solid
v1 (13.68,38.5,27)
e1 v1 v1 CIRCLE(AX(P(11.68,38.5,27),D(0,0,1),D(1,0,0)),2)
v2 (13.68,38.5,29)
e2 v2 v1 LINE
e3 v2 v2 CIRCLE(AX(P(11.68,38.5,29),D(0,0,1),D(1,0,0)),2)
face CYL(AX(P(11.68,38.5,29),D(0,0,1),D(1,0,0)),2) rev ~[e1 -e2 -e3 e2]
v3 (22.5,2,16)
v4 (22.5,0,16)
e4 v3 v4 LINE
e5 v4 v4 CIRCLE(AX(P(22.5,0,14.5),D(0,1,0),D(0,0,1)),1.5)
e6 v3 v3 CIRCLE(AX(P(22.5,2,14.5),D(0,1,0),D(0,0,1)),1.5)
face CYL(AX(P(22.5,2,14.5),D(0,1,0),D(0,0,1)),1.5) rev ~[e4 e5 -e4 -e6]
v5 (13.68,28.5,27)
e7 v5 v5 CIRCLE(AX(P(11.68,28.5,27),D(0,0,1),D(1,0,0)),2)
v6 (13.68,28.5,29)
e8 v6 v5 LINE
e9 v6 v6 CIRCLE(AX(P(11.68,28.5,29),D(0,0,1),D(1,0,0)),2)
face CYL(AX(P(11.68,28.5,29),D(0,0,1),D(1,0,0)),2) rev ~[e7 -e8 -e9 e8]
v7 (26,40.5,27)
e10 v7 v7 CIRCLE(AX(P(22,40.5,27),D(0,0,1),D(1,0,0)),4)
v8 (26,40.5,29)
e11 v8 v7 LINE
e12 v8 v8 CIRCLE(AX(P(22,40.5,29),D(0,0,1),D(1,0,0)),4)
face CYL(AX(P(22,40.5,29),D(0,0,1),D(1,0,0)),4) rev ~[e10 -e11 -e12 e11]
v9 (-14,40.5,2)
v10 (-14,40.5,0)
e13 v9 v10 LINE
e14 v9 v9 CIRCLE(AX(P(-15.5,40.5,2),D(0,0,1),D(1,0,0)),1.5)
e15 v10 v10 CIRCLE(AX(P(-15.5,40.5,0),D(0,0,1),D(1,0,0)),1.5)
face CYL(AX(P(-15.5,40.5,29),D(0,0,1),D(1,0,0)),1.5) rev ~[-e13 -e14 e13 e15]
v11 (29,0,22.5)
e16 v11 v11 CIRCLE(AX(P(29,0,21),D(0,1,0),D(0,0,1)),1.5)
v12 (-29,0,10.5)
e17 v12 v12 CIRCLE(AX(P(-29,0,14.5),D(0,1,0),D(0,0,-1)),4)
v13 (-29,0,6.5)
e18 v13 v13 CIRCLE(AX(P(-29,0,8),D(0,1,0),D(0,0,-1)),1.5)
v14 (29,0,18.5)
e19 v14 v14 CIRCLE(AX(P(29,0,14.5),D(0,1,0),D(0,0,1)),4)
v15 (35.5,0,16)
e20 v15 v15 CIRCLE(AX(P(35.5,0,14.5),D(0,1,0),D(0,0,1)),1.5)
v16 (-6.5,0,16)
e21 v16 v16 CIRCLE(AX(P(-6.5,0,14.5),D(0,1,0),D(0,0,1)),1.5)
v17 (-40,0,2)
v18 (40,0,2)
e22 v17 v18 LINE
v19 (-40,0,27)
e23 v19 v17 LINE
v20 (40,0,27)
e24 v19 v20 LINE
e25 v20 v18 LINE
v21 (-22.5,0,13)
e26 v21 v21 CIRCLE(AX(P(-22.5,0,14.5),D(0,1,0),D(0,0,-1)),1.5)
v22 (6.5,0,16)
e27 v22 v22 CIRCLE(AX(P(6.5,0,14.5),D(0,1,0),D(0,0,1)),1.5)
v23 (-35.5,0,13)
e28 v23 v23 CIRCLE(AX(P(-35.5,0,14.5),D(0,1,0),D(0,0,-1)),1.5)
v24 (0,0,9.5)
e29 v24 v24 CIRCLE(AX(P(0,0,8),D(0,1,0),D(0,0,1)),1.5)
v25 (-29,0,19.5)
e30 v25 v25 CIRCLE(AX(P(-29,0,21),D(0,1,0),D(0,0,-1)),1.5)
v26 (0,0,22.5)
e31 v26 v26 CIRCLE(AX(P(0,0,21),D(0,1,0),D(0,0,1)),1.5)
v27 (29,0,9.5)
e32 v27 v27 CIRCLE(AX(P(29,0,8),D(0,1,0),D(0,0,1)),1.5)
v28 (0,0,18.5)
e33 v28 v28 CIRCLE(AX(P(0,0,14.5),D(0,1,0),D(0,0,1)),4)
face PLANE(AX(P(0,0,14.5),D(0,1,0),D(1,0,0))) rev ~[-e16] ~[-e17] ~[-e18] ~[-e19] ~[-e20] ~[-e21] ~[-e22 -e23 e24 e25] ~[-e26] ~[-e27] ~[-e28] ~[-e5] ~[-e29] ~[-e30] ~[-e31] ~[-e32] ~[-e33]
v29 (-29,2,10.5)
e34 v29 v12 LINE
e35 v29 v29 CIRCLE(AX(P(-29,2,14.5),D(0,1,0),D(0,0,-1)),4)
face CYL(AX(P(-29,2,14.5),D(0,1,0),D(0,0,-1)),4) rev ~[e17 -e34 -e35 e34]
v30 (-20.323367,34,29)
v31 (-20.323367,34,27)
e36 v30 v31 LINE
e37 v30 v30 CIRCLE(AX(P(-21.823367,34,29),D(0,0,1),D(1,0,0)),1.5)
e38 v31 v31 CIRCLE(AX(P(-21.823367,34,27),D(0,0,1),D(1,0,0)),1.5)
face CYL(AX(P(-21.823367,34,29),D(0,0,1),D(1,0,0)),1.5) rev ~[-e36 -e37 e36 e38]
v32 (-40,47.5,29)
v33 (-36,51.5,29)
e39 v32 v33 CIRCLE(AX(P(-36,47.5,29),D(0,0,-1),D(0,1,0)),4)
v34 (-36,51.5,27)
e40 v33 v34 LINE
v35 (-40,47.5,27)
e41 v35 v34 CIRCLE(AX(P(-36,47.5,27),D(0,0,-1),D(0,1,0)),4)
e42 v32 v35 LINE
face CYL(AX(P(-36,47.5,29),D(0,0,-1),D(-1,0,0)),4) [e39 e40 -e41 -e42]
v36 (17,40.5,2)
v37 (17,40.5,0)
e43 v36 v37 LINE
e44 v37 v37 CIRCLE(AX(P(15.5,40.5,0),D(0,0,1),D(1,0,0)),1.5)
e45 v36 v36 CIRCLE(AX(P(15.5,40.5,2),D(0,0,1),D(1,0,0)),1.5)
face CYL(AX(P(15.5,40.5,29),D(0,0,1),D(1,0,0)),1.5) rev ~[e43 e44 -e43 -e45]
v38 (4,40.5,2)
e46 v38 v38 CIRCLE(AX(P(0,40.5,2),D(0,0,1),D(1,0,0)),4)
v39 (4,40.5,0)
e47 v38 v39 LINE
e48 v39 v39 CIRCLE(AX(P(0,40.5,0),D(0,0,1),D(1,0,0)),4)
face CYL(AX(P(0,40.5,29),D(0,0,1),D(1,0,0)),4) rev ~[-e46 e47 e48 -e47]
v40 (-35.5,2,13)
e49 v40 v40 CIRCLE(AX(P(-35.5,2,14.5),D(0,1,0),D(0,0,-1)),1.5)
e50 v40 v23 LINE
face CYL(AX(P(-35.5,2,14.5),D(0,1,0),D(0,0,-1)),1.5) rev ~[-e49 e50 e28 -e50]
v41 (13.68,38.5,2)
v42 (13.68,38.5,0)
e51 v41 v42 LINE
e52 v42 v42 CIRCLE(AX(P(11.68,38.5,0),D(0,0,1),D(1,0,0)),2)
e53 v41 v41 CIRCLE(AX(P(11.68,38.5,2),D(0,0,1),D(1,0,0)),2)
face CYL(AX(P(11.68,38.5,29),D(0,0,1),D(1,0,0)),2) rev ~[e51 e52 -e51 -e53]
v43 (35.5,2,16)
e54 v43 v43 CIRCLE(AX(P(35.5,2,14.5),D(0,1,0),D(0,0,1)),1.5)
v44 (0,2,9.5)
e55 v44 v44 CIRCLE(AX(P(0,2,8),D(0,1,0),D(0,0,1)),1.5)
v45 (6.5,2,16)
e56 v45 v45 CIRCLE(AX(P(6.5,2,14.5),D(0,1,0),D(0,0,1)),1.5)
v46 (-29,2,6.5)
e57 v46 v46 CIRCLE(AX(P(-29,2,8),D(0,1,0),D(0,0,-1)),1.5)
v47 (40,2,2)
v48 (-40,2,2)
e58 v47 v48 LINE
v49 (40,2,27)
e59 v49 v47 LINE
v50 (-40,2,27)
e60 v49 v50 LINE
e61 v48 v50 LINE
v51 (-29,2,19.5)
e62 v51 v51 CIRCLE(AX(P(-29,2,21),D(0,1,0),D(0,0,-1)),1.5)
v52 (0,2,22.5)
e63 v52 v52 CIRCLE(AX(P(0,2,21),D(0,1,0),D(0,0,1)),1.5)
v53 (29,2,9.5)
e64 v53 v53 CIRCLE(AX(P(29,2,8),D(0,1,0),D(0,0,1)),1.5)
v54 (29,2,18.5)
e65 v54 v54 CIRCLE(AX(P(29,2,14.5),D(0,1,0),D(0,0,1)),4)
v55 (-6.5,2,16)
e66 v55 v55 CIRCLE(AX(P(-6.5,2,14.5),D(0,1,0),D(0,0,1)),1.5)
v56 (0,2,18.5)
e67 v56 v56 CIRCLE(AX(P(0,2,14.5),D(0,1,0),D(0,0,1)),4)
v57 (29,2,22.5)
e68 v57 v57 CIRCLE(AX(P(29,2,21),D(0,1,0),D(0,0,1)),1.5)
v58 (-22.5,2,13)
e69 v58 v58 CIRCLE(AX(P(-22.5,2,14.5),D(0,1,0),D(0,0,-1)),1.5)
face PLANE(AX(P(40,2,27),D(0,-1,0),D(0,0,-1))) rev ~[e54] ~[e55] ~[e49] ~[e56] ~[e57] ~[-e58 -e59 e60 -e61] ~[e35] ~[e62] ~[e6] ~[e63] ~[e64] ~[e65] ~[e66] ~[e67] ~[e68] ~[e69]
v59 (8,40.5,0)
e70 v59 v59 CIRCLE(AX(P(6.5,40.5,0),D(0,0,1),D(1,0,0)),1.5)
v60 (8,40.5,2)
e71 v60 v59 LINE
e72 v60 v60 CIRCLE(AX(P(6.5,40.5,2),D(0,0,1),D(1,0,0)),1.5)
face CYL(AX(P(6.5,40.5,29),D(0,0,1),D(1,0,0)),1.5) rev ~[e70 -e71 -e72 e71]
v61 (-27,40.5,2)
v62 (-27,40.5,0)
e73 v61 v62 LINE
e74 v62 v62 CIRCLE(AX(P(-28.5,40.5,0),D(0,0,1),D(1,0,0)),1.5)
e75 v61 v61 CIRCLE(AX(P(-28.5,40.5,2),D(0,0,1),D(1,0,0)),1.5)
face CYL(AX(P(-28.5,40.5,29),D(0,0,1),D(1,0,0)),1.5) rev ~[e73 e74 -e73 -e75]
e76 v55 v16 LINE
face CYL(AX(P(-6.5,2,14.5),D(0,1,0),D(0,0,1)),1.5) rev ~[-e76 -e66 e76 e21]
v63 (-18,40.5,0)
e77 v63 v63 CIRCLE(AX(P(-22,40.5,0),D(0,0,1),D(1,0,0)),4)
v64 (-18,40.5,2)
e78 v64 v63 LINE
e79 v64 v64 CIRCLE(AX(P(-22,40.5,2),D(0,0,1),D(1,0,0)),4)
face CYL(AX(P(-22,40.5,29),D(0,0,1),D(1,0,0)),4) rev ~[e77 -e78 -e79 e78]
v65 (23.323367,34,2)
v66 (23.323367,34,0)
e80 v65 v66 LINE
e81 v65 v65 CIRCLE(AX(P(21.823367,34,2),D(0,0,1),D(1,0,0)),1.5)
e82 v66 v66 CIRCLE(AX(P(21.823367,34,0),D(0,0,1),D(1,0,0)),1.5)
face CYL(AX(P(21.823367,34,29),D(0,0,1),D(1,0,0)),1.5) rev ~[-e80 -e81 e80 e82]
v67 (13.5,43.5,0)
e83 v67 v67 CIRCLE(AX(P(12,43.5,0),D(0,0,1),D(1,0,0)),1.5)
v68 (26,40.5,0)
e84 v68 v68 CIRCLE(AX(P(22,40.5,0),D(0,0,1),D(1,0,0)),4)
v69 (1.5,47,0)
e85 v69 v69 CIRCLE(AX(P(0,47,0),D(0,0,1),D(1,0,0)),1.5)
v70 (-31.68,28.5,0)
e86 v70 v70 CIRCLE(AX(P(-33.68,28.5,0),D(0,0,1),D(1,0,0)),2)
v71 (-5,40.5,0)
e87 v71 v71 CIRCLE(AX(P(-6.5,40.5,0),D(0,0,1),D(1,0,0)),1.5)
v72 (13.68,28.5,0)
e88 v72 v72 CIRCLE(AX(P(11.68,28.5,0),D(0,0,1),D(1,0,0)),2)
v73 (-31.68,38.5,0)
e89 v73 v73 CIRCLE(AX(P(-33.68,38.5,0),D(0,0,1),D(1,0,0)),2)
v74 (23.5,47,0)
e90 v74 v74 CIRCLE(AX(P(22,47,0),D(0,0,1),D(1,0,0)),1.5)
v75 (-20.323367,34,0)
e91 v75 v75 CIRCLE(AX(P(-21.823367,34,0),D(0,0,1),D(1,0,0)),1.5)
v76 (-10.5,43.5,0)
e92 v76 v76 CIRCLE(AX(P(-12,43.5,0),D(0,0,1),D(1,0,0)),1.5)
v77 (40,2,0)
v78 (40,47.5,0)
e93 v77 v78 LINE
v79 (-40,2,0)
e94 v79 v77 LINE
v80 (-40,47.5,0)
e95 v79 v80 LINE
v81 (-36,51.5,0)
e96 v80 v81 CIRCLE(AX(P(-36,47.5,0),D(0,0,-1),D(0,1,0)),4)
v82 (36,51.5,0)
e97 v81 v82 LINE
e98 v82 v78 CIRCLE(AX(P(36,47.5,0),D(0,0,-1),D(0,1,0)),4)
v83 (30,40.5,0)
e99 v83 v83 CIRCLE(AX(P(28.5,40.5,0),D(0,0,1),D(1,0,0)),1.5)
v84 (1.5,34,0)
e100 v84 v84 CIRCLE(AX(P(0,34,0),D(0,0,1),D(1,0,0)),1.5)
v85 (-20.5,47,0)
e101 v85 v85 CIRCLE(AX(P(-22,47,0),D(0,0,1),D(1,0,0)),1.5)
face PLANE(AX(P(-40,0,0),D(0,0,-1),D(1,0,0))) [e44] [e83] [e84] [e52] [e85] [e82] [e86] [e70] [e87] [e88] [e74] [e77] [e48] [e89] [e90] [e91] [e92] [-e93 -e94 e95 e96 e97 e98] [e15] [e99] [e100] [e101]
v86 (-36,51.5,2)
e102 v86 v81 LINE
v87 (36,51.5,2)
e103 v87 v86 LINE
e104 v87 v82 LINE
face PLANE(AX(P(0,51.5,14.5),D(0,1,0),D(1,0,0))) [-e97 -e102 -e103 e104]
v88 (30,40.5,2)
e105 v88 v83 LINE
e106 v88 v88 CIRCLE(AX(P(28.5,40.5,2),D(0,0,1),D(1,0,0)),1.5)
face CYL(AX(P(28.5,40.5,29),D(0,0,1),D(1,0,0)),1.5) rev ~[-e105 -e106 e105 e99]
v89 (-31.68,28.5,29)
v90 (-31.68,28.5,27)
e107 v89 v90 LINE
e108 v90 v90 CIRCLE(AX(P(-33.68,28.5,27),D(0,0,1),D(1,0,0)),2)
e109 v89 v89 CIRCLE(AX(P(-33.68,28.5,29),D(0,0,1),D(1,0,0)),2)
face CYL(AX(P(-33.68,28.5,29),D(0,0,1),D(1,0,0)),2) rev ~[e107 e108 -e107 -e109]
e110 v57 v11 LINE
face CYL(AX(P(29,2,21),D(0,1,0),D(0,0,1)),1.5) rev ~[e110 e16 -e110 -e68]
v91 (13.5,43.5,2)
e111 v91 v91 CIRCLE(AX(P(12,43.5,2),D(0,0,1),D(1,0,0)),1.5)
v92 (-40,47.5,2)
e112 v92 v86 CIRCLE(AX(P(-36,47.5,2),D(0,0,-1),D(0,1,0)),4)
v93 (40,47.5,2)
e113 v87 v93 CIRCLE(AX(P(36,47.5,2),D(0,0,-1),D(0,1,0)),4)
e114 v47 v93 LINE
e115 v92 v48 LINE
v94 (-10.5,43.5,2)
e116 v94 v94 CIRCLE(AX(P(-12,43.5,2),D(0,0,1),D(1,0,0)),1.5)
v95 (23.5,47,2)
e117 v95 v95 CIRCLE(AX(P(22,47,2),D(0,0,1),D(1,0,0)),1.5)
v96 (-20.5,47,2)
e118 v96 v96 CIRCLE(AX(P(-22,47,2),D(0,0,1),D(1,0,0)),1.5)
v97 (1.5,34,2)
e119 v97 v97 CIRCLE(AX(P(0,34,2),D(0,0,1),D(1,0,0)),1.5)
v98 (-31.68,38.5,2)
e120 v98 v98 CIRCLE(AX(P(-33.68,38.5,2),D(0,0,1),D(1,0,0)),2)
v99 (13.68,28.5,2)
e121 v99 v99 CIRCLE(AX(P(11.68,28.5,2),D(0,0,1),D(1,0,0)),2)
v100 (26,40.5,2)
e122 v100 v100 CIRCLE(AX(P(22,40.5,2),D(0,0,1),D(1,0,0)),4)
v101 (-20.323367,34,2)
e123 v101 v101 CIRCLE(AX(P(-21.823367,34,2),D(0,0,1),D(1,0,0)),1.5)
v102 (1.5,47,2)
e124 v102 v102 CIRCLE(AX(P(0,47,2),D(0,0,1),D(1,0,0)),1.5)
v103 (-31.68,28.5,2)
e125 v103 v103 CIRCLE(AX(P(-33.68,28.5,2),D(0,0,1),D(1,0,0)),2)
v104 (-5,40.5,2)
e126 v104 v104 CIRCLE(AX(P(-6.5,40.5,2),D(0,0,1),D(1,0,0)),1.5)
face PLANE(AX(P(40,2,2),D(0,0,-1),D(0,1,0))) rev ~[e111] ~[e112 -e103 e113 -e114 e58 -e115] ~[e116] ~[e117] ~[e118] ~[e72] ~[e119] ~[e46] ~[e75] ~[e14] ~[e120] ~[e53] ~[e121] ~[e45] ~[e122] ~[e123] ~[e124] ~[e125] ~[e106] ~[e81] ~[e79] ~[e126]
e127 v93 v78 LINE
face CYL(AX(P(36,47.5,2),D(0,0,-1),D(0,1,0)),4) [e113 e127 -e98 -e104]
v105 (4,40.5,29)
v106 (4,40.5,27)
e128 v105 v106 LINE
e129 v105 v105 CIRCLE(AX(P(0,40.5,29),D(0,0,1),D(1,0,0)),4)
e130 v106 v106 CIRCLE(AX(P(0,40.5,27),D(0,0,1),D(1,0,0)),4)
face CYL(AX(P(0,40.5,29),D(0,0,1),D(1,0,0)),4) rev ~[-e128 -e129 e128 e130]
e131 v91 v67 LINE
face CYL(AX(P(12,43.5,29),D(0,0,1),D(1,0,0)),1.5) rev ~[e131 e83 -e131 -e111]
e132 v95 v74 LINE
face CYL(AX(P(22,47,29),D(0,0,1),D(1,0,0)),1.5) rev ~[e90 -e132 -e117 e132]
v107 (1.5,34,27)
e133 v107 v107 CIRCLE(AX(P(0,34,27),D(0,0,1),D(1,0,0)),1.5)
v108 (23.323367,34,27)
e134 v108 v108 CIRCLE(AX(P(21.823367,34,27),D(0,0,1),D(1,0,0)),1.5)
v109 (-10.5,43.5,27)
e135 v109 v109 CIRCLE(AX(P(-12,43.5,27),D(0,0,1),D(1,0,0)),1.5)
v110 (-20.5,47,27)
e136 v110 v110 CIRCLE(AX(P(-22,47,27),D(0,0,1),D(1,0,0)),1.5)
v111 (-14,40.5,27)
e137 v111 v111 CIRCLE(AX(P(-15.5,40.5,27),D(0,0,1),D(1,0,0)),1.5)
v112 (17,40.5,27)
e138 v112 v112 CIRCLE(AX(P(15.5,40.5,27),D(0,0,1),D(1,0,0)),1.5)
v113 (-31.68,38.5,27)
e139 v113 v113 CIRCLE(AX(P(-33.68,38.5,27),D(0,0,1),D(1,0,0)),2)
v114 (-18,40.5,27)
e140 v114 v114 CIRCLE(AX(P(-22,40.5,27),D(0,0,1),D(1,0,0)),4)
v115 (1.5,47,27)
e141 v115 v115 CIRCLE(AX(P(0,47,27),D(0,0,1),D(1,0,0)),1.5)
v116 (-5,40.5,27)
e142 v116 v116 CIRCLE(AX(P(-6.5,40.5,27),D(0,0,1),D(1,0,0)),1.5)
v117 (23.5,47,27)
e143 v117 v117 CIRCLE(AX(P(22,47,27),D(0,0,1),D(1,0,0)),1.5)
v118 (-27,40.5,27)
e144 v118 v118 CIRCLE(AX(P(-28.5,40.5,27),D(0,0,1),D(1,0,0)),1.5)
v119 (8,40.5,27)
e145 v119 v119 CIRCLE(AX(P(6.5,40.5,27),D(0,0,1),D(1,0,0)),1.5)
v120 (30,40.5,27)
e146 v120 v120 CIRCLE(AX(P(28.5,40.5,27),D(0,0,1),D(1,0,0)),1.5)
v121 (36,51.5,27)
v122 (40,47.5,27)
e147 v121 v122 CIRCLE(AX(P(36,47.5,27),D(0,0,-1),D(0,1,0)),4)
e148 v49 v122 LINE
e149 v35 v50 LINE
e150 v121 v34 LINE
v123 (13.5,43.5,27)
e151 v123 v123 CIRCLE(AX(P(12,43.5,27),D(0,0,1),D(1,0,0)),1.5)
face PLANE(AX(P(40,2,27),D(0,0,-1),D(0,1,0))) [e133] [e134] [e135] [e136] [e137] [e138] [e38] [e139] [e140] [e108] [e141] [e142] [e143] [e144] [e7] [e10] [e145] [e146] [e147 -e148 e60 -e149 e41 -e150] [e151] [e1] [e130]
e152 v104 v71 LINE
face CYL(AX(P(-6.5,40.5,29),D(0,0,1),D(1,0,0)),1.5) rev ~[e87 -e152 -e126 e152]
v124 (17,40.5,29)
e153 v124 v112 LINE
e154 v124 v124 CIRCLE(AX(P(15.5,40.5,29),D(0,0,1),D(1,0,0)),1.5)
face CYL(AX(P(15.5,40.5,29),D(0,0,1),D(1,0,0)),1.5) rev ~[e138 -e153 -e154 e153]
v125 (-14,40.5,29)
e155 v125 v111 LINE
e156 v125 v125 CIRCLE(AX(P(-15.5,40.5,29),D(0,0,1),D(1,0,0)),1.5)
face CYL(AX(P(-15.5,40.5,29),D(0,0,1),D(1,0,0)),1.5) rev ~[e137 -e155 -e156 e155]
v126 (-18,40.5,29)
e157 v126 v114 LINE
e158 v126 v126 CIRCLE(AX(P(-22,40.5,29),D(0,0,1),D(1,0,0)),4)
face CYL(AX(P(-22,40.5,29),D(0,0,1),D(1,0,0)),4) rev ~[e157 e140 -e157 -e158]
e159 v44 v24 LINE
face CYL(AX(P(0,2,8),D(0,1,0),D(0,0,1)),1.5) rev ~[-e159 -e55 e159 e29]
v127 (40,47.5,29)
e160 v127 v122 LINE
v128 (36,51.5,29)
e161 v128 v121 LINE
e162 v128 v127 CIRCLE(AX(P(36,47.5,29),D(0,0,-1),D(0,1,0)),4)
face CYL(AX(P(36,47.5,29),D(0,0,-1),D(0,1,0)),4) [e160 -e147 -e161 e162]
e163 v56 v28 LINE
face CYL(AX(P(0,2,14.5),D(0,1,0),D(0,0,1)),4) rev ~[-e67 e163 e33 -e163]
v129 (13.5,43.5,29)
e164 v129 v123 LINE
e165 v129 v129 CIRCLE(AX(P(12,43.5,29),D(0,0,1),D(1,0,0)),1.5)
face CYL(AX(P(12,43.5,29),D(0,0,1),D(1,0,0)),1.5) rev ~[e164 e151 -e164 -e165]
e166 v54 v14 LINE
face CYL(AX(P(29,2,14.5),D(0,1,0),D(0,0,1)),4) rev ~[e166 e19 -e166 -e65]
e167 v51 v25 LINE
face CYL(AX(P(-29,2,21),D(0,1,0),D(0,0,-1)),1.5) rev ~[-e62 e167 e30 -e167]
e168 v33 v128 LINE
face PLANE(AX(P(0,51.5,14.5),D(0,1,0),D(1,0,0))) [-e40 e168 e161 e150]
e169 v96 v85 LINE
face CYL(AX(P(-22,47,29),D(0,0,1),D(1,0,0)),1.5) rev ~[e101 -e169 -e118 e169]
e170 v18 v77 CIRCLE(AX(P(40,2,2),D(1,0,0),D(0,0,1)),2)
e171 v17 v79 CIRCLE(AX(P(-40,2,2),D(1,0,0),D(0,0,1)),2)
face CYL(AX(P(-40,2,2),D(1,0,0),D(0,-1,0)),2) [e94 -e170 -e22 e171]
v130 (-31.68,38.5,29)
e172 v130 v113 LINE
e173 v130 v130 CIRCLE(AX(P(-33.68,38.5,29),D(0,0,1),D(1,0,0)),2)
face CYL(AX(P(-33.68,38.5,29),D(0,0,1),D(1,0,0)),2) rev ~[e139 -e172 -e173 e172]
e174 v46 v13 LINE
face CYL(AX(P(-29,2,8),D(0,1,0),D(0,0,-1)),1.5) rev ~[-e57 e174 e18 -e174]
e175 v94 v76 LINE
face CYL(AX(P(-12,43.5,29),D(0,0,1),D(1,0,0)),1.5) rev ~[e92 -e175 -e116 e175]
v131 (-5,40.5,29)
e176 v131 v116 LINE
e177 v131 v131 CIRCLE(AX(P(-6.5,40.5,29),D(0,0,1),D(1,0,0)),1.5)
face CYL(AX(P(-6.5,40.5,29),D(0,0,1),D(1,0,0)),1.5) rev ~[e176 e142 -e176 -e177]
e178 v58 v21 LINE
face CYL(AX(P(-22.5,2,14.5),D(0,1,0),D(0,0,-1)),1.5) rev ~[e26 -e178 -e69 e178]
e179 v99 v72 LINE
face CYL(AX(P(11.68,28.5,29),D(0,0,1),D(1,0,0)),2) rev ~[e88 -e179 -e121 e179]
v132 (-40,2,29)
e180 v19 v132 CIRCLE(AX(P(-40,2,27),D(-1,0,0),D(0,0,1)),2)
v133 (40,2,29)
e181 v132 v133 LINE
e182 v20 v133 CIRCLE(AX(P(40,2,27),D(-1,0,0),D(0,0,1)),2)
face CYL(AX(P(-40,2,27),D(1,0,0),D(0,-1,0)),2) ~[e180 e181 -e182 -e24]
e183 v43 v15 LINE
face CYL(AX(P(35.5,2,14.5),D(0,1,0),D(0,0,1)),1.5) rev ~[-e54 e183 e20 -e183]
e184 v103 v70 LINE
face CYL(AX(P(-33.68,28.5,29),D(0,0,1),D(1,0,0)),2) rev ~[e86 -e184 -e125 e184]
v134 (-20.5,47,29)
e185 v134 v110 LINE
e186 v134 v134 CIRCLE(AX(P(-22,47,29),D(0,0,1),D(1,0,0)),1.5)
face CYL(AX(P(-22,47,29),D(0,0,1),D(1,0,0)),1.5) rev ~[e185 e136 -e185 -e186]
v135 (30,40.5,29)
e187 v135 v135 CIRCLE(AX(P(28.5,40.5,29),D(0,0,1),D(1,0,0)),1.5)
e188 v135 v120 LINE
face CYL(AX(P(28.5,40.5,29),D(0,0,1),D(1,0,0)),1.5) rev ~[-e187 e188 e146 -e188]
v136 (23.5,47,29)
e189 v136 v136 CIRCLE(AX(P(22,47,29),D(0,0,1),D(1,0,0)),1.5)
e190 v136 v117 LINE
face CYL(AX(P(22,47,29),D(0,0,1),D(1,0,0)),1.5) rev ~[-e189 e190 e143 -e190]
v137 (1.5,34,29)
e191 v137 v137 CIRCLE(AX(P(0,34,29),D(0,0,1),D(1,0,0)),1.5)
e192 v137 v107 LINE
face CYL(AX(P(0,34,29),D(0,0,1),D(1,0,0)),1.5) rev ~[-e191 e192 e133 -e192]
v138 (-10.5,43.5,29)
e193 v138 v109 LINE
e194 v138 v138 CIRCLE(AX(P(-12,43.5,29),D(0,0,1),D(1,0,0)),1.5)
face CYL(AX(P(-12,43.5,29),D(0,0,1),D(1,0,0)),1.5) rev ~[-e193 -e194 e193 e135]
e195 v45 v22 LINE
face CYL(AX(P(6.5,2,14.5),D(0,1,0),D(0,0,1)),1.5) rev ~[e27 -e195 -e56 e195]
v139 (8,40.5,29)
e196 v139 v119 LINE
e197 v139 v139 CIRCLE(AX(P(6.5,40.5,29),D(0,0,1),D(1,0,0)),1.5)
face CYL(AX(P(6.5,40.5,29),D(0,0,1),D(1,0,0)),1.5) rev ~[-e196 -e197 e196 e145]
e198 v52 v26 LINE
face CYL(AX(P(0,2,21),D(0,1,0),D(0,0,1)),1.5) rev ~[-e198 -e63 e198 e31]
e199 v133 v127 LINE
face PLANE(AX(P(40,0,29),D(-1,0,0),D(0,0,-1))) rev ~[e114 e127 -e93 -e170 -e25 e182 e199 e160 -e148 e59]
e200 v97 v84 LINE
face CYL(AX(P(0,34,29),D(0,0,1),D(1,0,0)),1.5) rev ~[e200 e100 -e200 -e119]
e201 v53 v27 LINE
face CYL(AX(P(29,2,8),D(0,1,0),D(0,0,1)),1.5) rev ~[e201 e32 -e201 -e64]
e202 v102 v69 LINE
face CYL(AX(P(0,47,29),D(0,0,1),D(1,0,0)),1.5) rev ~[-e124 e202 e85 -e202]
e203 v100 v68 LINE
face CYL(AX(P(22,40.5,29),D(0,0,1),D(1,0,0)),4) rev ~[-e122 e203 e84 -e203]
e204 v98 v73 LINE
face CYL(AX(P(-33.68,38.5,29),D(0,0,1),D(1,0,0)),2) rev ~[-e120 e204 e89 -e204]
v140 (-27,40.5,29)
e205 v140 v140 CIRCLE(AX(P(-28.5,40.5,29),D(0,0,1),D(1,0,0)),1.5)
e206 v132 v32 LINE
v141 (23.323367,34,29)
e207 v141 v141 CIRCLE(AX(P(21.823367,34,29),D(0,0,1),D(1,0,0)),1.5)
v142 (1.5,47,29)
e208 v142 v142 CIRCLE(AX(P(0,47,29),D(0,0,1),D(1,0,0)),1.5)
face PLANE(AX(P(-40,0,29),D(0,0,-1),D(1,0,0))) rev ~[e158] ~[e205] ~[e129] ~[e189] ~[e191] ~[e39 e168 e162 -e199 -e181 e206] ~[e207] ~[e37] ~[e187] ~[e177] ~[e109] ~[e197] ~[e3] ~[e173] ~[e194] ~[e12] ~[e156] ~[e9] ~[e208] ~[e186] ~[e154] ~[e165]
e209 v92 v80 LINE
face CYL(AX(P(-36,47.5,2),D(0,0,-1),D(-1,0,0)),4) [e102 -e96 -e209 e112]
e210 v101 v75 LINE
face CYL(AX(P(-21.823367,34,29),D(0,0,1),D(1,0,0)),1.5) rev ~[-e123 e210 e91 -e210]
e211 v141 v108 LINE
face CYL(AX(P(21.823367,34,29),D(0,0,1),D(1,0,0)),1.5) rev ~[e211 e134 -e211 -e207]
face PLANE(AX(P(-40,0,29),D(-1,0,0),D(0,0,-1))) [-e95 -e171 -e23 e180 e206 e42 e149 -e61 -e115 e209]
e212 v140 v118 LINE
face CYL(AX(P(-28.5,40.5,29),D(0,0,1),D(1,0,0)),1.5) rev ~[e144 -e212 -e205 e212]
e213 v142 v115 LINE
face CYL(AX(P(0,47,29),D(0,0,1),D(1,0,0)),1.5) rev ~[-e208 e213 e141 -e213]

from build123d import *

# Parameters (mm, degrees)
SKETCH1_W           = 80
SKETCH1_H           = 29
BOSS_EXTRUDE1_DEPTH = 51.5
SKETCH2_W           = 25
SKETCH2_H           = 49.5
CUT_EXTRUDE1_DEPTH  = 100.464817901
FILLET6_R           = 2
SKETCH3_R           = 1.5
SKETCH3_R_2         = 4
CUT_EXTRUDE2_DEPTH  = 43.5
SKETCH4_R           = 4
SKETCH4_R_2         = 1.5
SKETCH4_R_3         = 2
CUT_EXTRUDE3_DEPTH  = 43.5
FILLET7_R           = 4


with BuildPart() as part:
    # Sketch1 → Boss-Extrude1 (new body)
    with BuildSketch(Plane(origin=(0, 0, 0), x_dir=(1, 0, 0), z_dir=(0, 1, 0))):
        with Locations((0, -14.5)):
            Rectangle(SKETCH1_W, SKETCH1_H)
    extrude(amount=BOSS_EXTRUDE1_DEPTH)

    # Sketch2 → Cut-Extrude1 (cut, through all)
    with BuildSketch(Plane(origin=(40, 0, 0), x_dir=(0, 0, -1), z_dir=(1, 0, 0))):
        with Locations((-14.5, 26.75)):
            Rectangle(SKETCH2_W, SKETCH2_H)
    extrude(amount=-CUT_EXTRUDE1_DEPTH, mode=Mode.SUBTRACT)

    # Fillet6
    fillet6_edges = [part.edges().sort_by_distance(p)[0] for p in [
        (0, 0, 0),
        (0, 0, 29),
    ]]
    fillet(fillet6_edges, radius=FILLET6_R)

    # Sketch3 → Cut-Extrude2 (cut)
    with BuildSketch(Plane(origin=(0, 2, 0), x_dir=(1, 0, 0), z_dir=(0, 1, 0))):
        with Locations(Location((35.5, -14.5, 0), (0, 0, 270))):
            Circle(SKETCH3_R)
        with Locations(Location((29, -14.5, 0), (0, 0, 270))):
            Circle(SKETCH3_R_2)
        with Locations(Location((22.5, -14.5, 0), (0, 0, 270))):
            Circle(SKETCH3_R)
        with Locations(Location((29, -8, 0), (0, 0, 270))):
            Circle(SKETCH3_R)
        with Locations(Location((29, -21, 0), (0, 0, 270))):
            Circle(SKETCH3_R)
        with Locations(Location((-29, -21, 0), (0, 0, 90))):
            Circle(SKETCH3_R)
        with Locations(Location((-35.5, -14.5, 0), (0, 0, 90))):
            Circle(SKETCH3_R)
        with Locations(Location((-22.5, -14.5, 0), (0, 0, 90))):
            Circle(SKETCH3_R)
        with Locations(Location((-29, -14.5, 0), (0, 0, 90))):
            Circle(SKETCH3_R_2)
        with Locations(Location((-29, -8, 0), (0, 0, 90))):
            Circle(SKETCH3_R)
        with Locations(Location((0, -14.5, 0), (0, 0, 270))):
            Circle(SKETCH3_R_2)
        with Locations(Location((6.5, -14.5, 0), (0, 0, 270))):
            Circle(SKETCH3_R)
        with Locations(Location((-6.5, -14.5, 0), (0, 0, 270))):
            Circle(SKETCH3_R)
        with Locations(Location((0, -8, 0), (0, 0, 270))):
            Circle(SKETCH3_R)
        with Locations(Location((0, -21, 0), (0, 0, 270))):
            Circle(SKETCH3_R)
    extrude(amount=-CUT_EXTRUDE2_DEPTH, mode=Mode.SUBTRACT)

    # Sketch4 → Cut-Extrude3 (cut)
    with BuildSketch(Plane.XY.offset(29)):
        with Locations((22, 40.5)):
            Circle(SKETCH4_R)
        with Locations((15.5, 40.5)):
            Circle(SKETCH4_R_2)
        with Locations((28.5, 40.5)):
            Circle(SKETCH4_R_2)
        with Locations((22, 47)):
            Circle(SKETCH4_R_2)
        with Locations((21.823366501, 34)):
            Circle(SKETCH4_R_2)
        with Locations((-21.823366501, 34)):
            Circle(SKETCH4_R_2)
        with Locations((-28.5, 40.5)):
            Circle(SKETCH4_R_2)
        with Locations((-22, 47)):
            Circle(SKETCH4_R_2)
        with Locations((-22, 40.5)):
            Circle(SKETCH4_R)
        with Locations((-15.5, 40.5)):
            Circle(SKETCH4_R_2)
        with Locations((0, 40.5)):
            Circle(SKETCH4_R)
        with Locations((6.5, 40.5)):
            Circle(SKETCH4_R_2)
        with Locations((-6.5, 40.5)):
            Circle(SKETCH4_R_2)
        with Locations((0, 47)):
            Circle(SKETCH4_R_2)
        with Locations((0, 34)):
            Circle(SKETCH4_R_2)
        with Locations((12, 43.5)):
            Circle(SKETCH4_R_2)
        with Locations((-12, 43.5)):
            Circle(SKETCH4_R_2)
        with Locations((11.68, 38.5)):
            Circle(SKETCH4_R_3)
        with Locations((11.68, 28.5)):
            Circle(SKETCH4_R_3)
        with Locations((-33.68, 38.5)):
            Circle(SKETCH4_R_3)
        with Locations((-33.68, 28.5)):
            Circle(SKETCH4_R_3)
    extrude(amount=-CUT_EXTRUDE3_DEPTH, mode=Mode.SUBTRACT)

    # Fillet7
    fillet7_edges = [part.edges().sort_by_distance(p)[0] for p in [
        (40, 51.5, 28),
        (-40, 51.5, 28),
        (40, 51.5, 1),
        (-40, 51.5, 1),
    ]]
    fillet(fillet7_edges, radius=FILLET7_R)


solid = part.part
